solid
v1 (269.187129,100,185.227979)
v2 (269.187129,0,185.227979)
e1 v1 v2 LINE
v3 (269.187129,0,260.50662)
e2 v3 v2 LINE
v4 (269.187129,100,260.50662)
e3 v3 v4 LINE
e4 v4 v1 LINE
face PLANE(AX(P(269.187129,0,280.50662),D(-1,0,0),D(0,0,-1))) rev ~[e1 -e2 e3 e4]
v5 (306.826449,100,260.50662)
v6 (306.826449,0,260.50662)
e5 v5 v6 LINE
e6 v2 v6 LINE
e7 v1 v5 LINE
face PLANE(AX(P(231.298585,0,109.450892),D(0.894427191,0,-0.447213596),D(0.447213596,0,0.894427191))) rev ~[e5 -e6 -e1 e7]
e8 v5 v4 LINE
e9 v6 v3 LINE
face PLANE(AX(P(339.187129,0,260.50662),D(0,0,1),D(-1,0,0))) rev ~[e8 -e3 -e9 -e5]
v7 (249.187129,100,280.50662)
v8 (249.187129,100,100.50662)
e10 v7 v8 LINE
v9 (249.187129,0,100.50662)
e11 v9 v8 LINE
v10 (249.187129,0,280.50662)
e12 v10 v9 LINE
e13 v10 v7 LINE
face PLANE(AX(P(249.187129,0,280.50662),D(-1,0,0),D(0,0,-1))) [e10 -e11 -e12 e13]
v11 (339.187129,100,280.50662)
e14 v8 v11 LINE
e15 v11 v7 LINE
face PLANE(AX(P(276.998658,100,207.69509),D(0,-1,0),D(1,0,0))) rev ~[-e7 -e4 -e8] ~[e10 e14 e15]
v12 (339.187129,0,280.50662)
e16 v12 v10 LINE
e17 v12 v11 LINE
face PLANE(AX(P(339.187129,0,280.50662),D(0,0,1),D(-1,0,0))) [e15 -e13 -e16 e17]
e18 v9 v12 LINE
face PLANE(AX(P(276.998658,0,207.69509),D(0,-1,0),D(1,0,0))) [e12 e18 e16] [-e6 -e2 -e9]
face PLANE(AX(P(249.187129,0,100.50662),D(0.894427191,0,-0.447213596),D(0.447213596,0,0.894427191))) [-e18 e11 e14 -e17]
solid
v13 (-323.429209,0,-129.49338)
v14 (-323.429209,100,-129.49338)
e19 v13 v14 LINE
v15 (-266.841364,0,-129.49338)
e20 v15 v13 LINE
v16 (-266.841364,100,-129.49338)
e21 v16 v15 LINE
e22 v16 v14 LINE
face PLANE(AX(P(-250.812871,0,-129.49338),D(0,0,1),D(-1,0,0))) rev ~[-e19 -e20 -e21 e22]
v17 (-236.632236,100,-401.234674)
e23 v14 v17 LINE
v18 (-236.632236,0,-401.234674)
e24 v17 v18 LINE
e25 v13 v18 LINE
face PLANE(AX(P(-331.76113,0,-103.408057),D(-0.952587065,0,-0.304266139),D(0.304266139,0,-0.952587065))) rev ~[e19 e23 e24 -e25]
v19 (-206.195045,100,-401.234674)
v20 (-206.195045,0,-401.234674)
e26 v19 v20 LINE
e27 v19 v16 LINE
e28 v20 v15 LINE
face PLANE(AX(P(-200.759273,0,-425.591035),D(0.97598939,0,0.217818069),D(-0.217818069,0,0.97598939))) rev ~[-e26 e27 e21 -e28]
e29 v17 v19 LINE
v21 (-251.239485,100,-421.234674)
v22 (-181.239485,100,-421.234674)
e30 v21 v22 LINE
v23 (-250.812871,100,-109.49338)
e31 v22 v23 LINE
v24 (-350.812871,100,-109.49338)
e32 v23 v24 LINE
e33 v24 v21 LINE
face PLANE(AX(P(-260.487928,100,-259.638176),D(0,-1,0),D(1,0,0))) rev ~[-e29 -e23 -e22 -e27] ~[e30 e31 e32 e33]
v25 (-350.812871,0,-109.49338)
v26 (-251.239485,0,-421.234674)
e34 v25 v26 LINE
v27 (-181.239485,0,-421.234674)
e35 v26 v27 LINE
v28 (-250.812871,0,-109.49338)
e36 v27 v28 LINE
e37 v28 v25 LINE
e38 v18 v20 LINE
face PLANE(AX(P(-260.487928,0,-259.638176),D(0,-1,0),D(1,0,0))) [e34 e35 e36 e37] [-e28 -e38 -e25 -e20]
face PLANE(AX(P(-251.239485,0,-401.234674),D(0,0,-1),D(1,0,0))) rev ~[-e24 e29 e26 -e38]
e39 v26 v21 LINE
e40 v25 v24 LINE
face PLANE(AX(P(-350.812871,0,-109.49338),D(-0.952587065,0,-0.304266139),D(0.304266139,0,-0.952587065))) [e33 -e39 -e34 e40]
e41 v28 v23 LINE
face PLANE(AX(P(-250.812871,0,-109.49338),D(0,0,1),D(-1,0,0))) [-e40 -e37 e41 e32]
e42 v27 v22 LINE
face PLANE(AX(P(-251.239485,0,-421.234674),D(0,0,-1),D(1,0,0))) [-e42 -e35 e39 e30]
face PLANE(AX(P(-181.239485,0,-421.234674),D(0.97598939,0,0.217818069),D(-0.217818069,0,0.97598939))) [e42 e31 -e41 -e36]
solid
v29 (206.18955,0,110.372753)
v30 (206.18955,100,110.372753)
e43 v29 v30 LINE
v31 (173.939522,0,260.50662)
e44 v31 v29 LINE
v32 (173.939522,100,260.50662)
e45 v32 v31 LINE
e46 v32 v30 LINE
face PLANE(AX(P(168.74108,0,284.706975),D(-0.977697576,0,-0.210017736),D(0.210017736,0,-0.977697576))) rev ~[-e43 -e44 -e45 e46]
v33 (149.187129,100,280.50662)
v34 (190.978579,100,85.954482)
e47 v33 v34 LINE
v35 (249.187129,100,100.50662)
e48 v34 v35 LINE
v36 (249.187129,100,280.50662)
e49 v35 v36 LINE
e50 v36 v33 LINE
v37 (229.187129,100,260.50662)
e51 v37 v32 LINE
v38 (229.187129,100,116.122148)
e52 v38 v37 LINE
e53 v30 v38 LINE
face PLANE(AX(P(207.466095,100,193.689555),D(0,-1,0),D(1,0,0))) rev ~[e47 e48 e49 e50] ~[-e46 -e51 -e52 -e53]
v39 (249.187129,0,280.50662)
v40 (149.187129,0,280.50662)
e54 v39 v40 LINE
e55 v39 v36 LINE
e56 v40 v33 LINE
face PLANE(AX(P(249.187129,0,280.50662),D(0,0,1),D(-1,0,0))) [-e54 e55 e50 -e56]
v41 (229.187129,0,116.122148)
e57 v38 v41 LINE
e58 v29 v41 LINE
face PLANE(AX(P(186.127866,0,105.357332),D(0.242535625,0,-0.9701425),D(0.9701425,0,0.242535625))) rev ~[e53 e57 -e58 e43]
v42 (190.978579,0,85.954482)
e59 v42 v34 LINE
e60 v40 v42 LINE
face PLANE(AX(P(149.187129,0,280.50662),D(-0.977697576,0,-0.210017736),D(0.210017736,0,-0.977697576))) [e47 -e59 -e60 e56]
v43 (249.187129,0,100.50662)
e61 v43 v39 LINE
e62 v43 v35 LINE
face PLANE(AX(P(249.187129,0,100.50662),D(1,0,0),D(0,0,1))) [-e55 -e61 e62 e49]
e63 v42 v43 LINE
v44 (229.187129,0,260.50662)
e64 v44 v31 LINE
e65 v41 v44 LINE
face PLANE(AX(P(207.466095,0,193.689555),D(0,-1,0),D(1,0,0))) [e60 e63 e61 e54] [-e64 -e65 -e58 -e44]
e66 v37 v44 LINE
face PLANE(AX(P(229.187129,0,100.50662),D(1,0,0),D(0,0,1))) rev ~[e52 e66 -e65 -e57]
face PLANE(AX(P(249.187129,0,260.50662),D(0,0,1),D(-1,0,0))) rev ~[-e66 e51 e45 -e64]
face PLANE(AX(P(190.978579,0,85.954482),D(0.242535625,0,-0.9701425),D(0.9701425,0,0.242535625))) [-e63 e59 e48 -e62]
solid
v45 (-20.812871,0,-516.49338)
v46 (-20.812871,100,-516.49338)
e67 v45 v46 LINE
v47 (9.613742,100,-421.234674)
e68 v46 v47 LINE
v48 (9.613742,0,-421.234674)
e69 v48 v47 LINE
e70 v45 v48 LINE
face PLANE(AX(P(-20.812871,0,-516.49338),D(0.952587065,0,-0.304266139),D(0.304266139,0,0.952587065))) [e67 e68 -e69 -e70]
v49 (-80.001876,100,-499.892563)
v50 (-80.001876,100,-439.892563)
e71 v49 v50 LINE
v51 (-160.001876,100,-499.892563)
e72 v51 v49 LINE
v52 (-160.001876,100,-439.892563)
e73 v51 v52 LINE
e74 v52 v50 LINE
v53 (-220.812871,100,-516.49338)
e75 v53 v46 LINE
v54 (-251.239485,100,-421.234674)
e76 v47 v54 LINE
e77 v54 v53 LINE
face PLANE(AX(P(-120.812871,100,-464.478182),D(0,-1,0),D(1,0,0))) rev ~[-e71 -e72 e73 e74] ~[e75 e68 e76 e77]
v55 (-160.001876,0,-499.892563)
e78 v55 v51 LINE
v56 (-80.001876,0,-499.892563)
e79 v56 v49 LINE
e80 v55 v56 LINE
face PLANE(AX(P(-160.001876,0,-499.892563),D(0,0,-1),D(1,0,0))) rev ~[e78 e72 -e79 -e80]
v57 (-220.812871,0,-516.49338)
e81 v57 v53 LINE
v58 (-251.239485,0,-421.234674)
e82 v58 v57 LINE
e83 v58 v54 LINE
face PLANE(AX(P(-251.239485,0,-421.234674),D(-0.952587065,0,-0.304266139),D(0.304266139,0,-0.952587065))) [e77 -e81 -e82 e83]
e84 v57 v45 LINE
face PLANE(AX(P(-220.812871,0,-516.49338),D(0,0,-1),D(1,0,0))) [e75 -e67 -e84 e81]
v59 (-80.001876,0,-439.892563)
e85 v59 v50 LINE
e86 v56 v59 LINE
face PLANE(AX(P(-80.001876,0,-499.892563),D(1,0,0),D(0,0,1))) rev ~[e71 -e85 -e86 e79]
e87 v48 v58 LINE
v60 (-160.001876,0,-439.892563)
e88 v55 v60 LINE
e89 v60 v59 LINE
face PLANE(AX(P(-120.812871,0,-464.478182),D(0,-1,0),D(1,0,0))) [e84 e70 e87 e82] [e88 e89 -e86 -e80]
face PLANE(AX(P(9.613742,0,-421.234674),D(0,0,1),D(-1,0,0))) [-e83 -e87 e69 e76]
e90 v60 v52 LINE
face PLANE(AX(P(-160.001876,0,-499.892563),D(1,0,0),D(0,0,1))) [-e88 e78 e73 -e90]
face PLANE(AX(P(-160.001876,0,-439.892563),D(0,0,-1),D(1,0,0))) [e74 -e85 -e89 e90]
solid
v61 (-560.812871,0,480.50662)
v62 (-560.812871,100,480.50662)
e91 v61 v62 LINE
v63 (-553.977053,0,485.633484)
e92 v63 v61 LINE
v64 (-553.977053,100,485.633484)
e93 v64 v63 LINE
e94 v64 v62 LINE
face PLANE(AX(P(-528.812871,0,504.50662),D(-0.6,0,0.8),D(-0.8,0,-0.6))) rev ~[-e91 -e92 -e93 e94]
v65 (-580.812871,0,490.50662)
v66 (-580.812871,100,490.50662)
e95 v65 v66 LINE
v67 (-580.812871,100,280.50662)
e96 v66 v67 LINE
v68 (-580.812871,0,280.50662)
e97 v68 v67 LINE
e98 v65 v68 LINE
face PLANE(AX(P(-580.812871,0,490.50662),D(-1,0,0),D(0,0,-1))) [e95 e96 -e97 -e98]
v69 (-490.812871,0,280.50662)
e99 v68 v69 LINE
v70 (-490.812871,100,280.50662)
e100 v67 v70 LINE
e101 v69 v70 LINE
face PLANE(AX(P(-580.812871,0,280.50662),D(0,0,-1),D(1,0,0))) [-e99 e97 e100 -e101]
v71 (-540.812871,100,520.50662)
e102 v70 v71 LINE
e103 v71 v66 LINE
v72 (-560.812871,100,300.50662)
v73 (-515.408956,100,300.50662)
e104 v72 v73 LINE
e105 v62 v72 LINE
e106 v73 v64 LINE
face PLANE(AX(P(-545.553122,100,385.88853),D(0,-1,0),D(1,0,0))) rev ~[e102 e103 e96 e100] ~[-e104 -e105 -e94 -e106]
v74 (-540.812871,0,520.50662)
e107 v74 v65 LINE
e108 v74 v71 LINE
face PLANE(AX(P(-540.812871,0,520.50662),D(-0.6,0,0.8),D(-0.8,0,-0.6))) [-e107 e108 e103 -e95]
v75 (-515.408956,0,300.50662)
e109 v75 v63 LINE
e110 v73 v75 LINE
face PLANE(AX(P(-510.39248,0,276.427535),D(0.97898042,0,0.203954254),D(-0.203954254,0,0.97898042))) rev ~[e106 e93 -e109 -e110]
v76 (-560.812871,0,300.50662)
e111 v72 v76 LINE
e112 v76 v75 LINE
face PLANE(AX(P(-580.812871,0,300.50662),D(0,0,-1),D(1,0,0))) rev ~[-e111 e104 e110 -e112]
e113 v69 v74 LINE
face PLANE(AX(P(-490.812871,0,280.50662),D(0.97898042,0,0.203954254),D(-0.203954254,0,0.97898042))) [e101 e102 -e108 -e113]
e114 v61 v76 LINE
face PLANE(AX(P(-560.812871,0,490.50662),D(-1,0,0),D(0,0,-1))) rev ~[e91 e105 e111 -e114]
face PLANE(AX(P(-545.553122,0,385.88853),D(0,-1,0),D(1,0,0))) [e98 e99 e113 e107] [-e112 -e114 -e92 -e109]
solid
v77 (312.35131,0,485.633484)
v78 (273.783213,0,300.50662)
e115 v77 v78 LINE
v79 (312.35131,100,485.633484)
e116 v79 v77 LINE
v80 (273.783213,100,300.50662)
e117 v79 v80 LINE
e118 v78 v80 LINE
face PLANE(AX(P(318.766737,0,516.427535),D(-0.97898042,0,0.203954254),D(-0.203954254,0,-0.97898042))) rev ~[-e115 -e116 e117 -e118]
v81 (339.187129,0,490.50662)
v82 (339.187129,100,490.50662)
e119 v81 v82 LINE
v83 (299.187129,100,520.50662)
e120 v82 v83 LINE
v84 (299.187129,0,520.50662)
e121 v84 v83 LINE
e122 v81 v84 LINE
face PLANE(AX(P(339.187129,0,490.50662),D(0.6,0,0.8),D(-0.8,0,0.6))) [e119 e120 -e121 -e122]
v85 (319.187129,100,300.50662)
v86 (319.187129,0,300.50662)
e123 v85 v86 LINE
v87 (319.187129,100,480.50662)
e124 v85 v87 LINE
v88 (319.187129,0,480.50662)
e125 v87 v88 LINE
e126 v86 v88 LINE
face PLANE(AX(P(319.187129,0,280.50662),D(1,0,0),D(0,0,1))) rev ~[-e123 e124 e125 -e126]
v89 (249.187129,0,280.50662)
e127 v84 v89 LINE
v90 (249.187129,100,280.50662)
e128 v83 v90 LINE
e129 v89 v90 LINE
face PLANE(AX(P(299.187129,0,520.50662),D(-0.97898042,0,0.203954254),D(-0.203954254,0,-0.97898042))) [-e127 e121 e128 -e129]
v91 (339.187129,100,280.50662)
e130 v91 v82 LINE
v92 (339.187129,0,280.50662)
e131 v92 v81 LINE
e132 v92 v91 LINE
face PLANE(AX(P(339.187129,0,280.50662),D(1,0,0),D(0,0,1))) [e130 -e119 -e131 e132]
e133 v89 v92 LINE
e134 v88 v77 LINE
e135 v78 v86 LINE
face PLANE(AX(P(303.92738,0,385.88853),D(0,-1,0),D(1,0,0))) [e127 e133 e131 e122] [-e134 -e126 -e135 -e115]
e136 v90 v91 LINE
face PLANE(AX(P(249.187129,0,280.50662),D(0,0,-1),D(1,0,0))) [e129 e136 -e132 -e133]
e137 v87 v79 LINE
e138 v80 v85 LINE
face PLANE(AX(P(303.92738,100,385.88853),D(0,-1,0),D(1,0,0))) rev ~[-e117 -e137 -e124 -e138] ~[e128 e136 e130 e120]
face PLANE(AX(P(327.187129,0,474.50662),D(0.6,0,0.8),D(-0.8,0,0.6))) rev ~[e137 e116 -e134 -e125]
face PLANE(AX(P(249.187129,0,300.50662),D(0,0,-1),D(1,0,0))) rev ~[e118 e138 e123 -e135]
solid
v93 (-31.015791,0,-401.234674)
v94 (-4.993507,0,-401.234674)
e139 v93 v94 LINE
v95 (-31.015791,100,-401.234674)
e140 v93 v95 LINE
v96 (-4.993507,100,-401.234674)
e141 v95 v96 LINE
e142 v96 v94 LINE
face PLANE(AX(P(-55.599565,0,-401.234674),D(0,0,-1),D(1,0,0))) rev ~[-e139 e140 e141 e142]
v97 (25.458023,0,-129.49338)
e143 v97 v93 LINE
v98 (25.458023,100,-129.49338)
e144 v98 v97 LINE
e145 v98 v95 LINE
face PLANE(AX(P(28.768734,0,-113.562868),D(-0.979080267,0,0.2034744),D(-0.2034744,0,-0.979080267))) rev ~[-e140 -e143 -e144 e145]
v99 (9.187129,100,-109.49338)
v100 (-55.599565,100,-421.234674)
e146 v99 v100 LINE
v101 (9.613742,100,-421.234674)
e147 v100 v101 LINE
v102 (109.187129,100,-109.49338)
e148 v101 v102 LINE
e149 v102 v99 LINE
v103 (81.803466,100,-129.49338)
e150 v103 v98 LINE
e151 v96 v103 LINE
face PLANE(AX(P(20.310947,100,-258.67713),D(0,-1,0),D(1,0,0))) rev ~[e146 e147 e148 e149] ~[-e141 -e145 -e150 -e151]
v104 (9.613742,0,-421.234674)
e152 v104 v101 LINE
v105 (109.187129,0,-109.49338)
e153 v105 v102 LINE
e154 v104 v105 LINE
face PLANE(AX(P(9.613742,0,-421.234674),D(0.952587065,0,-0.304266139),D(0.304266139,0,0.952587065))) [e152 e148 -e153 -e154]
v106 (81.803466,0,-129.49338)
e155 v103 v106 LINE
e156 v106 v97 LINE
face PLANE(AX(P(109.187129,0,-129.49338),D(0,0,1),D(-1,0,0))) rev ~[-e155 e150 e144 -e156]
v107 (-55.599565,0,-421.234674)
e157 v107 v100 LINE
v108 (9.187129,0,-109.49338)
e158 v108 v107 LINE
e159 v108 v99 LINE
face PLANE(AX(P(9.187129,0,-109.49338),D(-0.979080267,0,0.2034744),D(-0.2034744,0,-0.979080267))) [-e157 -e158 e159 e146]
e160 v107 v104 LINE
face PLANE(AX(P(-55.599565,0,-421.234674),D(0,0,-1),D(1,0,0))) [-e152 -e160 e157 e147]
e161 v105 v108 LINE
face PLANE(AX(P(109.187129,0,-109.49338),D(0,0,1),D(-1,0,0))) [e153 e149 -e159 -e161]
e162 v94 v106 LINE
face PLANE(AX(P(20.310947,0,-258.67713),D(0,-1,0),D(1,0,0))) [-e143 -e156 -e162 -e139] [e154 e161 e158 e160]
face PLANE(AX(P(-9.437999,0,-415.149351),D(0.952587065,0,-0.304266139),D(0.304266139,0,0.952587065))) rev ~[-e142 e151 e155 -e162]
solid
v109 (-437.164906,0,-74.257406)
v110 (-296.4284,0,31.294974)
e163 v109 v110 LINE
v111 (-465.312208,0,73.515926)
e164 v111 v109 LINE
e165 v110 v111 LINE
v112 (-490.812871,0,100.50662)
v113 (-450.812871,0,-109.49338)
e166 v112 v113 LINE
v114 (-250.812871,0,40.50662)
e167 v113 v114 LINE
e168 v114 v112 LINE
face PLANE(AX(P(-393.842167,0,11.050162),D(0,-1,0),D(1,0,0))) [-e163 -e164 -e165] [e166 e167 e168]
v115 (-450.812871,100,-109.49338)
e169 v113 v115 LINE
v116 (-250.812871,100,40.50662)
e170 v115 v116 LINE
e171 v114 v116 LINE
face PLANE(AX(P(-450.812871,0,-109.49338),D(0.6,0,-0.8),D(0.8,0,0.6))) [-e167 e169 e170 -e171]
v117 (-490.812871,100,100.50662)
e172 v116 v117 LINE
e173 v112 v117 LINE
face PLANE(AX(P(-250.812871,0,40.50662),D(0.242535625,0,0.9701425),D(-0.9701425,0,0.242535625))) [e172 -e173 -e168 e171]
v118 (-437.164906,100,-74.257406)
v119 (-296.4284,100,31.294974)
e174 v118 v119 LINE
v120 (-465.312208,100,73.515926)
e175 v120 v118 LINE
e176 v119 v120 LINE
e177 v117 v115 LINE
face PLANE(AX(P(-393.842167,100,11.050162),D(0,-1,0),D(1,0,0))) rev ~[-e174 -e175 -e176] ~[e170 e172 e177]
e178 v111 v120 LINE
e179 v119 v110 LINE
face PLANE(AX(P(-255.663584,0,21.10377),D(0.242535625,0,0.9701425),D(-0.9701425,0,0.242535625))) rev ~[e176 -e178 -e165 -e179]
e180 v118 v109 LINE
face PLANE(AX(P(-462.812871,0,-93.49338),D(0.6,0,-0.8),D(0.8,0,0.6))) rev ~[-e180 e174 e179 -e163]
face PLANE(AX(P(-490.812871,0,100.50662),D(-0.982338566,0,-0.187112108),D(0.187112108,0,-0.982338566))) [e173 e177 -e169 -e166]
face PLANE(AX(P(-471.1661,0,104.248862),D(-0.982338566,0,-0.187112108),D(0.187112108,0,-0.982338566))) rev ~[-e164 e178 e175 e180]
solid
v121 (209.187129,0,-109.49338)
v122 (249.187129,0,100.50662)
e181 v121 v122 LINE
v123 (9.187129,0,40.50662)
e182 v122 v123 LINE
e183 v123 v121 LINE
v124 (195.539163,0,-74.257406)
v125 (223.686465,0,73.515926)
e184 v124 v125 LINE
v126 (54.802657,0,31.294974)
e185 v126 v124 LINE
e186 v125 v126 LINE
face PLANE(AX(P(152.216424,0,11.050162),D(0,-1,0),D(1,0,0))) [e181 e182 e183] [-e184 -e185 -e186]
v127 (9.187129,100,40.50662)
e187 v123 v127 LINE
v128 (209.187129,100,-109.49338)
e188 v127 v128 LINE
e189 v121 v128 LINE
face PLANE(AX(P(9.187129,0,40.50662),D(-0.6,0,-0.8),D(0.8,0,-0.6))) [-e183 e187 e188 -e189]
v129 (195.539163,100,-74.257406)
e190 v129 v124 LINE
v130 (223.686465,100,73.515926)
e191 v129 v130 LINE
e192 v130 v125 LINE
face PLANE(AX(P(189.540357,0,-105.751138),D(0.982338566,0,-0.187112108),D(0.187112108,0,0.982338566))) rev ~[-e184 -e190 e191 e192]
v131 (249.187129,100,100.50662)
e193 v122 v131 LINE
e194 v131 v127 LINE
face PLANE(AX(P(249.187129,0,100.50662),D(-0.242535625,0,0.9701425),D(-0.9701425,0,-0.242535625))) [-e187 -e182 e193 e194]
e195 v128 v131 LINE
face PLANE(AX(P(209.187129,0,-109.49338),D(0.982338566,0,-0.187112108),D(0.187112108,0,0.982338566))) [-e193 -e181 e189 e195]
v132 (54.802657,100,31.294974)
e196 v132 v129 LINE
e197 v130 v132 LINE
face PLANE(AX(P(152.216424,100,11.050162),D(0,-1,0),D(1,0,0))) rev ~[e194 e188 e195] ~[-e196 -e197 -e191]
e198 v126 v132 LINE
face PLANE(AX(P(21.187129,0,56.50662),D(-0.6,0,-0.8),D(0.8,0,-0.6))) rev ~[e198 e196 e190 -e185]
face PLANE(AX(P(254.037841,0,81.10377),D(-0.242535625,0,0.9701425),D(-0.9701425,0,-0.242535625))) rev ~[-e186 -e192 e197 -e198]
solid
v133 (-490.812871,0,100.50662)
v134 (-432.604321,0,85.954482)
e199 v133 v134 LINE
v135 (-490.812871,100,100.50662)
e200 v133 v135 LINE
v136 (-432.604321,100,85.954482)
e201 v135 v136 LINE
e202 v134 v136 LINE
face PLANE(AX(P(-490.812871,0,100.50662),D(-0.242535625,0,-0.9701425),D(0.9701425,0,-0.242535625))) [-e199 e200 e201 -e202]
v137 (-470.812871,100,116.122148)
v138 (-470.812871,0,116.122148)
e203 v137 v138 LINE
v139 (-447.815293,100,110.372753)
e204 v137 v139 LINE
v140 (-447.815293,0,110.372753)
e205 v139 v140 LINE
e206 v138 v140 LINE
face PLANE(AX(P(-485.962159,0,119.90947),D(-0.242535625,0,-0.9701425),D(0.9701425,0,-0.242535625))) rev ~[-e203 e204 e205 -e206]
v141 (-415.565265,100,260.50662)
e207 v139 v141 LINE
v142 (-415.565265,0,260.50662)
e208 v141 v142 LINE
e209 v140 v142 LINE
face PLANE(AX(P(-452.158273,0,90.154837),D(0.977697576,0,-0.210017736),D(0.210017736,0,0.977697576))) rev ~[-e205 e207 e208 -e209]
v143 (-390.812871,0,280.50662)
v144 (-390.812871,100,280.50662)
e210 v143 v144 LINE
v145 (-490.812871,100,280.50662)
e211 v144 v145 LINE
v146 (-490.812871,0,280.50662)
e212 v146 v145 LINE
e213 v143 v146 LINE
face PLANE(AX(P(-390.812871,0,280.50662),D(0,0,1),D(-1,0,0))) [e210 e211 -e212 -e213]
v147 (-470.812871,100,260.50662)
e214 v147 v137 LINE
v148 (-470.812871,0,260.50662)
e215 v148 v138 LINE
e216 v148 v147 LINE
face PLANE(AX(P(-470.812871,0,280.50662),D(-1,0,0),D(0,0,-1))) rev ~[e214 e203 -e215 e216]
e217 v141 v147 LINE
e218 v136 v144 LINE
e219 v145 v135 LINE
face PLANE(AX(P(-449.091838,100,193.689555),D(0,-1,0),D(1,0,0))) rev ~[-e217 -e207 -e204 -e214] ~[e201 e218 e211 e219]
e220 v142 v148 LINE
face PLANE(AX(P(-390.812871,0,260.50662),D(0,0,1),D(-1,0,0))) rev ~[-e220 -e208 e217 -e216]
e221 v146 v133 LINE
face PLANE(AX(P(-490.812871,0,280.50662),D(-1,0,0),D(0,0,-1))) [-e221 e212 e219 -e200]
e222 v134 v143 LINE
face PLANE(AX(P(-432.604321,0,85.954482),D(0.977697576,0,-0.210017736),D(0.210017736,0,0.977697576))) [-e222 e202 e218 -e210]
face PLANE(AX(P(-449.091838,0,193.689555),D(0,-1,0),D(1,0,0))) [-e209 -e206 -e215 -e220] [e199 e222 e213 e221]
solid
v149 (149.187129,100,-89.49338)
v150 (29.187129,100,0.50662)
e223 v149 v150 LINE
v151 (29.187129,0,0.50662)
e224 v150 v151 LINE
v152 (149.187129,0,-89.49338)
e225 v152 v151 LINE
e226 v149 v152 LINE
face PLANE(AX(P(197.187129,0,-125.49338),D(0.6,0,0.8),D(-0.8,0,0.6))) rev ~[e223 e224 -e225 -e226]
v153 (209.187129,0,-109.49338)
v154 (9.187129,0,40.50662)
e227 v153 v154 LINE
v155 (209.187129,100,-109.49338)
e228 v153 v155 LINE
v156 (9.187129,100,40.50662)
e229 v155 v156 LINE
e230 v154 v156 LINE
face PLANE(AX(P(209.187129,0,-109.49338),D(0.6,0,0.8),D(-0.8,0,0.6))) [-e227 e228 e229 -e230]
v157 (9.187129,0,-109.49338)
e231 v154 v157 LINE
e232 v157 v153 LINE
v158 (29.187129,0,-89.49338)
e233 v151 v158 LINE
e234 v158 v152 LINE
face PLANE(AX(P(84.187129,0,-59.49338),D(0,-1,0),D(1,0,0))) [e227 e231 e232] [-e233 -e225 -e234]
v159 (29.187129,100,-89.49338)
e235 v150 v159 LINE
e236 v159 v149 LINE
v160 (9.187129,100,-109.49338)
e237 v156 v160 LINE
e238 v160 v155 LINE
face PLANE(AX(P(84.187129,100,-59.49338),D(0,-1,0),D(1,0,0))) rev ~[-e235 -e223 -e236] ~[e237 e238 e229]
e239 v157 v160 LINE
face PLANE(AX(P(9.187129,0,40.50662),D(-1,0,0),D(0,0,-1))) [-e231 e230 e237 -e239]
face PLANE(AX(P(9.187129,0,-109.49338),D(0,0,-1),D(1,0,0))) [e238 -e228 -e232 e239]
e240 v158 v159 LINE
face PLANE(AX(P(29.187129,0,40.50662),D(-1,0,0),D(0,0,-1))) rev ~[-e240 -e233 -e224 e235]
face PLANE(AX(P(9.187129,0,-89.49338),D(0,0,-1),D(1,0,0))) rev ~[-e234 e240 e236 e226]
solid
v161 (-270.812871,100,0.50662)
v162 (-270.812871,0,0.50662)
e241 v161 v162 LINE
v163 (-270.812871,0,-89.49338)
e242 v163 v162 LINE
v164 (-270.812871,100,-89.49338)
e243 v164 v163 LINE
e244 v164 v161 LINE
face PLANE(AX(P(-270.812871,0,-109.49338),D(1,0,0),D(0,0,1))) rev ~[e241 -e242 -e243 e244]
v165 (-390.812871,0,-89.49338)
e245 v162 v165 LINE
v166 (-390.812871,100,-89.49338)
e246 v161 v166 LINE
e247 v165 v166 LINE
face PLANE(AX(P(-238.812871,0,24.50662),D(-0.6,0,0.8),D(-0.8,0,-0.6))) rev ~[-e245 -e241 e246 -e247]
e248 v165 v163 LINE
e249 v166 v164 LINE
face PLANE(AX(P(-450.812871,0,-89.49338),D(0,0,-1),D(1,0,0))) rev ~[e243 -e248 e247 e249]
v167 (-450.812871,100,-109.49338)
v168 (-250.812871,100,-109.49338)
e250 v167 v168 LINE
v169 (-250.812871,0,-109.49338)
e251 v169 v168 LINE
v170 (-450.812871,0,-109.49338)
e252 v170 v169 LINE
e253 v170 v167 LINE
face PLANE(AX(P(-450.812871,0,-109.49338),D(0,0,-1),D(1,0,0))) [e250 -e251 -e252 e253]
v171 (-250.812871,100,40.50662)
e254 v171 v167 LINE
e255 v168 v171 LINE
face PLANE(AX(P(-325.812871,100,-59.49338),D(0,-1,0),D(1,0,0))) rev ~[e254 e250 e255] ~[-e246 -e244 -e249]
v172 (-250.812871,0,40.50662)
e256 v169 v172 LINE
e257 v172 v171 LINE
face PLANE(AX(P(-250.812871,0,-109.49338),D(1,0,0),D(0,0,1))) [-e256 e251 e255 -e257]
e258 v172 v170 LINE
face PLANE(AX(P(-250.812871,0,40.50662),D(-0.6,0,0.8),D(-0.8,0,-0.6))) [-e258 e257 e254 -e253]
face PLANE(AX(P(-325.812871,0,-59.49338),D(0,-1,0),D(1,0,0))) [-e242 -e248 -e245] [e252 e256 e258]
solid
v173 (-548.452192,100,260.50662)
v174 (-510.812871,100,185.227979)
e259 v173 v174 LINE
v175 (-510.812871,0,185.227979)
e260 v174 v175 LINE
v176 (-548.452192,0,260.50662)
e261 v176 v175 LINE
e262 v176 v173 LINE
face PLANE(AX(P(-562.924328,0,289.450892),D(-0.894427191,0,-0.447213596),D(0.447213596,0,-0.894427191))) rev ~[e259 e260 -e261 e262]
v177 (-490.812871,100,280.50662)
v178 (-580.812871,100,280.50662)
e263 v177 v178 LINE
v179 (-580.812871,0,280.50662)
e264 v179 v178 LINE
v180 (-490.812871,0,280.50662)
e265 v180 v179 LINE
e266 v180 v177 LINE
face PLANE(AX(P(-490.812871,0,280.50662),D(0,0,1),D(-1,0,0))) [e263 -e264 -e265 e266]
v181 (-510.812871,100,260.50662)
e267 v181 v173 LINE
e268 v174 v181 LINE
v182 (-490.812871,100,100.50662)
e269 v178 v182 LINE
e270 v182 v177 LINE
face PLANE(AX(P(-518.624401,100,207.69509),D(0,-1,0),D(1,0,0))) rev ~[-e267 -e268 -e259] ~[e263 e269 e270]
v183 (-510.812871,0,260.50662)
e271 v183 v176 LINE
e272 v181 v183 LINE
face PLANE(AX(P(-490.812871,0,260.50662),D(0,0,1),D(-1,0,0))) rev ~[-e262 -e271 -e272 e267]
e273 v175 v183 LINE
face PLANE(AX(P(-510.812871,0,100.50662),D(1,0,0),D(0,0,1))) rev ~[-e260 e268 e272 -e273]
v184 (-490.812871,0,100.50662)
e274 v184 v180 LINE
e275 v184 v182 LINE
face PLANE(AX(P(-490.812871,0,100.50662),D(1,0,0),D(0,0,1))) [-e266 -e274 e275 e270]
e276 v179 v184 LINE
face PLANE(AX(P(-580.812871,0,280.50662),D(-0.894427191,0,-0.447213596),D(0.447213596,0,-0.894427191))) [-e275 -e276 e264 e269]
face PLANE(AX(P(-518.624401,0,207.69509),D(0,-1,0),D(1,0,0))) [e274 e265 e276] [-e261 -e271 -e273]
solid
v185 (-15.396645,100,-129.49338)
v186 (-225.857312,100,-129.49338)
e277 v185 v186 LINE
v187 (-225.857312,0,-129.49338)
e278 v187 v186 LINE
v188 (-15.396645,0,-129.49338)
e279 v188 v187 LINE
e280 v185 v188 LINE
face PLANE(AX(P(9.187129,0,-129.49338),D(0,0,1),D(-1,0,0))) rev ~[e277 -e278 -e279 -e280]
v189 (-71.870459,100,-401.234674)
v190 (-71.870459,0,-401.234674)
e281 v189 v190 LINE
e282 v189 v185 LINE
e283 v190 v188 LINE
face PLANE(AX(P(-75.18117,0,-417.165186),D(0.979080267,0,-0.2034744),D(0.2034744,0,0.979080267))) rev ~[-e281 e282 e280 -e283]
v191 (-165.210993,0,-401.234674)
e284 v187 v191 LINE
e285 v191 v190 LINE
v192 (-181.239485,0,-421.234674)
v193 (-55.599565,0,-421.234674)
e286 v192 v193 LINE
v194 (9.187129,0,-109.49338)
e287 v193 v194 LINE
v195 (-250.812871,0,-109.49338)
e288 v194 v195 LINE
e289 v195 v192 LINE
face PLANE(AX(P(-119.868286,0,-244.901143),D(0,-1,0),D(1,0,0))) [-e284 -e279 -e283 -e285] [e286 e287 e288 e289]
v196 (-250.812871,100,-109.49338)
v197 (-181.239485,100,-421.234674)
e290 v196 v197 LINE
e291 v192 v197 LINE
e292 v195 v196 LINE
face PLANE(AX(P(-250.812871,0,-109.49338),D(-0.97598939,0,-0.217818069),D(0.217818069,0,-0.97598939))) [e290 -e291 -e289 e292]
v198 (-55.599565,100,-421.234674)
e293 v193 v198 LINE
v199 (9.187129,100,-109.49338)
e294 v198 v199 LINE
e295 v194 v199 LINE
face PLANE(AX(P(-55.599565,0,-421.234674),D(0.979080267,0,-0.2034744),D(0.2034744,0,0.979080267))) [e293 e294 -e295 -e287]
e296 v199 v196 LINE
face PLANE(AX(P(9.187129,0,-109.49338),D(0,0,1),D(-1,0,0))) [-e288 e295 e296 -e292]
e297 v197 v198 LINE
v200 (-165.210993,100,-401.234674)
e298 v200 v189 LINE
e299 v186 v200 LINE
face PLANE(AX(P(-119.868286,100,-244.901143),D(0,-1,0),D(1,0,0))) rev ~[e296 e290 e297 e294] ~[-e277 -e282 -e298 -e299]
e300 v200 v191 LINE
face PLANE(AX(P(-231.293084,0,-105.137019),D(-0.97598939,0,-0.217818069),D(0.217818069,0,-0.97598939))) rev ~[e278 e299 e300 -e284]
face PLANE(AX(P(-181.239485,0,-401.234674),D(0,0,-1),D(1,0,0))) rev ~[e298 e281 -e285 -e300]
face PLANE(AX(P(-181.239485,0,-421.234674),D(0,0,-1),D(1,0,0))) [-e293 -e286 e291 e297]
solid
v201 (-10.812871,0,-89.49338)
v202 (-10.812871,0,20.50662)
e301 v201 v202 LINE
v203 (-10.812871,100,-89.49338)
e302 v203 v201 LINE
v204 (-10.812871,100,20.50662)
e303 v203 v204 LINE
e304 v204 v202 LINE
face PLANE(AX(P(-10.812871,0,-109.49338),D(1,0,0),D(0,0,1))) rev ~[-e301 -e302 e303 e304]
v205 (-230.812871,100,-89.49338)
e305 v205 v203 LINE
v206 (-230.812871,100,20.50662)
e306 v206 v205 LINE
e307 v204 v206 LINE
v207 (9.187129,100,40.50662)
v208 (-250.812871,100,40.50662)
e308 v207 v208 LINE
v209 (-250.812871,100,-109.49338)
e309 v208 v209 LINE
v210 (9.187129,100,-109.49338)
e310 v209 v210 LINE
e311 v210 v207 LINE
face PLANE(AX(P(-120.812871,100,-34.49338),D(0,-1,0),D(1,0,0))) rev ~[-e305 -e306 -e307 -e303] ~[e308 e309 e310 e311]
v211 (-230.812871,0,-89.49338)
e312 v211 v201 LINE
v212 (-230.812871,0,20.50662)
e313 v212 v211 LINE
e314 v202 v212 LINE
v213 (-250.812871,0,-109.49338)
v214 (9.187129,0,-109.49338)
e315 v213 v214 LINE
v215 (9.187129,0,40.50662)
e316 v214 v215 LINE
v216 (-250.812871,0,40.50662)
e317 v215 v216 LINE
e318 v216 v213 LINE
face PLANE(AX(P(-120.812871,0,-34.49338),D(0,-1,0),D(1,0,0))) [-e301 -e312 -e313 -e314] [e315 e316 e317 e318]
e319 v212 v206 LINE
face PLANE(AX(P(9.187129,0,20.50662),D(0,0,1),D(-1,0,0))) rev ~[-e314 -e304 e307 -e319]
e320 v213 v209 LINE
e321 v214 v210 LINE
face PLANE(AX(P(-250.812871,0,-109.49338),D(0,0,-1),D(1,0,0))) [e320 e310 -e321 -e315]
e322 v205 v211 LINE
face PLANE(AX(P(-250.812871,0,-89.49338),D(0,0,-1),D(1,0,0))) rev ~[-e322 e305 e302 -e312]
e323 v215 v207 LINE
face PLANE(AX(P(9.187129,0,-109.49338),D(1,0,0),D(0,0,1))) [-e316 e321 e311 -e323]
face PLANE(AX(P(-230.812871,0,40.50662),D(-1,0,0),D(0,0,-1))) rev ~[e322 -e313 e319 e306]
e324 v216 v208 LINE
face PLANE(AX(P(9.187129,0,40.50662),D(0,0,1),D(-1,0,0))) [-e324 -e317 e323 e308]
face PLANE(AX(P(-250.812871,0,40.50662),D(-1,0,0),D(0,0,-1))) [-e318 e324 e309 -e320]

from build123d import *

# Parameters (mm, degrees)
F2_DEPTH = 100
F3_T     = -20
F3_2_T   = -20
F3_3_T   = -20
F3_4_T   = -20
F3_5_T   = -20
F3_6_T   = -20
F4_DEPTH = 100
F5_T     = -20
F5_2_T   = -20
F5_3_T   = -20
F5_4_T   = -20
F5_5_T   = -20
F5_6_T   = -20
F1_W     = 80
F1_H     = 60
F6_DEPTH = 100
F7_DEPTH = 100
F8_T     = -20
F8_2_T   = -20


with BuildPart() as f2:
    # F1 (on Front) → F2 (new body)
    with BuildSketch(Plane.XZ):
        Polygon((-580.8128714561, 490.5066199303), (-580.8128714561, 280.5066199303), (-490.8128714561, 280.5066199303), (-540.8128714561, 520.5066199303), align=None)
    extrude(amount=-F2_DEPTH)

    # F3
    f3_openings = [f2.faces().sort_by_distance(p)[0] for p in [
        (-545.879538, 100, 380.10662),
        (-545.879538, 0, 380.10662),
    ]]
    offset(amount=F3_T, openings=f3_openings)


with BuildPart() as f2b:
    # F1 (on Front) → F2, piece 2 (new body)
    with BuildSketch(Plane.XZ):
        Polygon((-490.8128714561, 280.5066199303), (-490.8128714561, 100.5066199303), (-432.6043214474, 85.9544824281), (-390.8128714561, 280.5066199303), align=None)
    extrude(amount=-F2_DEPTH)

    # F3#2
    f3_2_openings = [f2b.faces().sort_by_distance(p)[0] for p in [
        (-449.744553, 100, 194.653752),
        (-449.744553, 0, 194.653752),
    ]]
    offset(amount=F3_2_T, openings=f3_2_openings)


with BuildPart() as f2c:
    # F1 (on Front) → F2, piece 3 (new body)
    with BuildSketch(Plane.XZ):
        Polygon((-450.8128714561, -109.4933800697), (-350.8128714561, -109.4933800697), (-250.8128714561, -109.4933800697), (-250.8128714561, 40.5066199303), align=None)
    extrude(amount=-F2_DEPTH)

    # F3#3
    f3_3_openings = [f2c.faces().sort_by_distance(p)[0] for p in [
        (-317.479538, 0, -59.49338),
        (-317.479538, 100, -59.49338),
    ]]
    offset(amount=F3_3_T, openings=f3_3_openings)


with BuildPart() as f2d:
    # F1 (on Front) → F2, piece 4 (new body)
    with BuildSketch(Plane.XZ):
        Polygon((9.1871285439, 40.5066199303), (209.1871285439, -109.4933800697), (249.1871285439, 100.5066199303), (190.9785785351, 85.9544824281), align=None)
    extrude(amount=-F2_DEPTH)

    # F3#5
    f3_5_openings = [f2d.faces().sort_by_distance(p)[0] for p in [
        (155.853795, 100, 10.50662),
        (155.853795, 0, 10.50662),
    ]]
    offset(amount=F3_5_T, openings=f3_5_openings)


with BuildPart() as f2e:
    # F1 (on Front) → F2, piece 5 (new body)
    with BuildSketch(Plane.XZ):
        Polygon((249.1871285439, 280.5066199303), (249.1871285439, 100.5066199303), (339.1871285439, 280.5066199303), align=None)
    extrude(amount=-F2_DEPTH)

    # F3#6
    f3_6_openings = [f2e.faces().sort_by_distance(p)[0] for p in [
        (279.187129, 100, 220.50662),
        (279.187129, 0, 220.50662),
    ]]
    offset(amount=F3_6_T, openings=f3_6_openings)


with BuildPart() as f2f:
    # F1 (on Front) → F2, piece 6 (new body)
    with BuildSketch(Plane.XZ):
        Polygon((-250.8128714561, -109.4933800697), (-181.2394853326, -421.2346735489), (-120.8128714561, -421.2346735489), (-55.5995645179, -421.2346735489), (9.1871285439, -109.4933800697), (-120.8128714561, -109.4933800697), (-237.8204911947, -109.4933800697), align=None)
    extrude(amount=-F2_DEPTH)

    # F3#4
    f3_4_openings = [f2f.faces().sort_by_distance(p)[0] for p in [
        (-119.755175, 100, -247.261827),
        (-119.755175, 0, -247.261827),
    ]]
    offset(amount=F3_4_T, openings=f3_4_openings)


with BuildPart() as f4:
    # F1 (on Front) → F4 (new body)
    with BuildSketch(Plane.XZ):
        Polygon((-580.8128714561, 280.5066199303), (-490.8128714561, 100.5066199303), (-490.8128714561, 280.5066199303), align=None)
    extrude(amount=-F4_DEPTH)

    # F5#6
    f5_6_openings = [f4.faces().sort_by_distance(p)[0] for p in [
        (-520.812871, 100, 220.50662),
        (-520.812871, 0, 220.50662),
    ]]
    offset(amount=F5_6_T, openings=f5_6_openings)


with BuildPart() as f4b:
    # F1 (on Front) → F4, piece 2 (new body)
    with BuildSketch(Plane.XZ):
        Polygon((-490.8128714561, 100.5066199303), (-450.8128714561, -109.4933800697), (-250.8128714561, 40.5066199303), (-432.6043214474, 85.9544824281), align=None)
    extrude(amount=-F4_DEPTH)

    # F5#5
    f5_5_openings = [f4b.faces().sort_by_distance(p)[0] for p in [
        (-397.479538, 100, 10.50662),
        (-397.479538, 0, 10.50662),
    ]]
    offset(amount=F5_5_T, openings=f5_5_openings)


with BuildPart() as f4c:
    # F1 (on Front) → F4, piece 3 (new body)
    with BuildSketch(Plane.XZ):
        Polygon((9.1871285439, -109.4933800697), (109.1871285439, -109.4933800697), (209.1871285439, -109.4933800697), (9.1871285439, 40.5066199303), align=None)
    extrude(amount=-F4_DEPTH)

    # F5#3
    f5_3_openings = [f4c.faces().sort_by_distance(p)[0] for p in [
        (75.853795, 100, -59.49338),
        (75.853795, 0, -59.49338),
    ]]
    offset(amount=F5_3_T, openings=f5_3_openings)


with BuildPart() as f4d:
    # F1 (on Front) → F4, piece 4 (new body)
    with BuildSketch(Plane.XZ):
        Polygon((190.9785785351, 85.9544824281), (249.1871285439, 100.5066199303), (249.1871285439, 280.5066199303), (149.1871285439, 280.5066199303), align=None)
    extrude(amount=-F4_DEPTH)

    # F5#2
    f5_2_openings = [f4d.faces().sort_by_distance(p)[0] for p in [
        (208.11881, 100, 194.653752),
        (208.11881, 0, 194.653752),
    ]]
    offset(amount=F5_2_T, openings=f5_2_openings)


with BuildPart() as f4e:
    # F1 (on Front) → F4, piece 5 (new body)
    with BuildSketch(Plane.XZ):
        Polygon((249.1871285439, 280.5066199303), (339.1871285439, 280.5066199303), (339.1871285439, 490.5066199303), (299.1871285439, 520.5066199303), align=None)
    extrude(amount=-F4_DEPTH)

    # F5
    f5_openings = [f4e.faces().sort_by_distance(p)[0] for p in [
        (304.253795, 100, 380.10662),
        (304.253795, 0, 380.10662),
    ]]
    offset(amount=F5_T, openings=f5_openings)


with BuildPart() as f4f:
    # F1 (on Front) → F4, piece 6 (new body)
    with BuildSketch(Plane.XZ):
        Polygon((-350.8128714561, -109.4933800697), (-251.2394853326, -421.2346735489), (-181.2394853326, -421.2346735489), (-250.8128714561, -109.4933800697), align=None)
    extrude(amount=-F4_DEPTH)

    # F5#4
    f5_4_openings = [f4f.faces().sort_by_distance(p)[0] for p in [
        (-261.013631, 100, -256.195165),
        (-261.013631, 0, -256.195165),
    ]]
    offset(amount=F5_4_T, openings=f5_4_openings)


with BuildPart() as f6:
    # F1 (on Front) → F6 (new body)
    with BuildSketch(Plane.XZ):
        Polygon((-251.2394853326, -421.2346735489), (-220.8128714561, -516.4933800697), (-120.8128714561, -516.4933800697), (-20.8128714561, -516.4933800697), (9.6137424203, -421.2346735489), (-55.5995645179, -421.2346735489), (-120.8128714561, -421.2346735489), (-181.2394853326, -421.2346735489), align=None)
        with Locations((-120.0018757582, -469.8925626278)):
            Rectangle(F1_W, F1_H, mode=Mode.SUBTRACT)
    extrude(amount=-F6_DEPTH)


with BuildPart() as f6b:
    # F1 (on Front) → F6, piece 2 (new body)
    with BuildSketch(Plane.XZ):
        Polygon((-250.8128714561, 40.5066199303), (-250.8128714561, -109.4933800697), (-237.8204911947, -109.4933800697), (-120.8128714561, -109.4933800697), (9.1871285439, -109.4933800697), (9.1871285439, 40.5066199303), (-120.8128714561, 40.5066199303), align=None)
    extrude(amount=-F6_DEPTH)

    # F8#2
    f8_2_openings = [f6b.faces().sort_by_distance(p)[0] for p in [
        (-120.812871, 0, -34.49338),
        (-120.812871, 100, -34.49338),
    ]]
    offset(amount=F8_2_T, openings=f8_2_openings)


with BuildPart() as f7:
    # F1 (on Front) → F7 (new body)
    with BuildSketch(Plane.XZ):
        Polygon((-55.5995645179, -421.2346735489), (9.6137424203, -421.2346735489), (109.1871285439, -109.4933800697), (9.1871285439, -109.4933800697), align=None)
    extrude(amount=-F7_DEPTH)

    # F8
    f8_openings = [f7.faces().sort_by_distance(p)[0] for p in [
        (20.981029, 100, -254.424181),
        (20.981029, 0, -254.424181),
    ]]
    offset(amount=F8_T, openings=f8_openings)


solid = Compound([f2.part, f2b.part, f2c.part, f2d.part, f2e.part, f2f.part, f4.part, f4b.part, f4c.part, f4d.part, f4e.part, f4f.part, f6.part, f6b.part, f7.part])
